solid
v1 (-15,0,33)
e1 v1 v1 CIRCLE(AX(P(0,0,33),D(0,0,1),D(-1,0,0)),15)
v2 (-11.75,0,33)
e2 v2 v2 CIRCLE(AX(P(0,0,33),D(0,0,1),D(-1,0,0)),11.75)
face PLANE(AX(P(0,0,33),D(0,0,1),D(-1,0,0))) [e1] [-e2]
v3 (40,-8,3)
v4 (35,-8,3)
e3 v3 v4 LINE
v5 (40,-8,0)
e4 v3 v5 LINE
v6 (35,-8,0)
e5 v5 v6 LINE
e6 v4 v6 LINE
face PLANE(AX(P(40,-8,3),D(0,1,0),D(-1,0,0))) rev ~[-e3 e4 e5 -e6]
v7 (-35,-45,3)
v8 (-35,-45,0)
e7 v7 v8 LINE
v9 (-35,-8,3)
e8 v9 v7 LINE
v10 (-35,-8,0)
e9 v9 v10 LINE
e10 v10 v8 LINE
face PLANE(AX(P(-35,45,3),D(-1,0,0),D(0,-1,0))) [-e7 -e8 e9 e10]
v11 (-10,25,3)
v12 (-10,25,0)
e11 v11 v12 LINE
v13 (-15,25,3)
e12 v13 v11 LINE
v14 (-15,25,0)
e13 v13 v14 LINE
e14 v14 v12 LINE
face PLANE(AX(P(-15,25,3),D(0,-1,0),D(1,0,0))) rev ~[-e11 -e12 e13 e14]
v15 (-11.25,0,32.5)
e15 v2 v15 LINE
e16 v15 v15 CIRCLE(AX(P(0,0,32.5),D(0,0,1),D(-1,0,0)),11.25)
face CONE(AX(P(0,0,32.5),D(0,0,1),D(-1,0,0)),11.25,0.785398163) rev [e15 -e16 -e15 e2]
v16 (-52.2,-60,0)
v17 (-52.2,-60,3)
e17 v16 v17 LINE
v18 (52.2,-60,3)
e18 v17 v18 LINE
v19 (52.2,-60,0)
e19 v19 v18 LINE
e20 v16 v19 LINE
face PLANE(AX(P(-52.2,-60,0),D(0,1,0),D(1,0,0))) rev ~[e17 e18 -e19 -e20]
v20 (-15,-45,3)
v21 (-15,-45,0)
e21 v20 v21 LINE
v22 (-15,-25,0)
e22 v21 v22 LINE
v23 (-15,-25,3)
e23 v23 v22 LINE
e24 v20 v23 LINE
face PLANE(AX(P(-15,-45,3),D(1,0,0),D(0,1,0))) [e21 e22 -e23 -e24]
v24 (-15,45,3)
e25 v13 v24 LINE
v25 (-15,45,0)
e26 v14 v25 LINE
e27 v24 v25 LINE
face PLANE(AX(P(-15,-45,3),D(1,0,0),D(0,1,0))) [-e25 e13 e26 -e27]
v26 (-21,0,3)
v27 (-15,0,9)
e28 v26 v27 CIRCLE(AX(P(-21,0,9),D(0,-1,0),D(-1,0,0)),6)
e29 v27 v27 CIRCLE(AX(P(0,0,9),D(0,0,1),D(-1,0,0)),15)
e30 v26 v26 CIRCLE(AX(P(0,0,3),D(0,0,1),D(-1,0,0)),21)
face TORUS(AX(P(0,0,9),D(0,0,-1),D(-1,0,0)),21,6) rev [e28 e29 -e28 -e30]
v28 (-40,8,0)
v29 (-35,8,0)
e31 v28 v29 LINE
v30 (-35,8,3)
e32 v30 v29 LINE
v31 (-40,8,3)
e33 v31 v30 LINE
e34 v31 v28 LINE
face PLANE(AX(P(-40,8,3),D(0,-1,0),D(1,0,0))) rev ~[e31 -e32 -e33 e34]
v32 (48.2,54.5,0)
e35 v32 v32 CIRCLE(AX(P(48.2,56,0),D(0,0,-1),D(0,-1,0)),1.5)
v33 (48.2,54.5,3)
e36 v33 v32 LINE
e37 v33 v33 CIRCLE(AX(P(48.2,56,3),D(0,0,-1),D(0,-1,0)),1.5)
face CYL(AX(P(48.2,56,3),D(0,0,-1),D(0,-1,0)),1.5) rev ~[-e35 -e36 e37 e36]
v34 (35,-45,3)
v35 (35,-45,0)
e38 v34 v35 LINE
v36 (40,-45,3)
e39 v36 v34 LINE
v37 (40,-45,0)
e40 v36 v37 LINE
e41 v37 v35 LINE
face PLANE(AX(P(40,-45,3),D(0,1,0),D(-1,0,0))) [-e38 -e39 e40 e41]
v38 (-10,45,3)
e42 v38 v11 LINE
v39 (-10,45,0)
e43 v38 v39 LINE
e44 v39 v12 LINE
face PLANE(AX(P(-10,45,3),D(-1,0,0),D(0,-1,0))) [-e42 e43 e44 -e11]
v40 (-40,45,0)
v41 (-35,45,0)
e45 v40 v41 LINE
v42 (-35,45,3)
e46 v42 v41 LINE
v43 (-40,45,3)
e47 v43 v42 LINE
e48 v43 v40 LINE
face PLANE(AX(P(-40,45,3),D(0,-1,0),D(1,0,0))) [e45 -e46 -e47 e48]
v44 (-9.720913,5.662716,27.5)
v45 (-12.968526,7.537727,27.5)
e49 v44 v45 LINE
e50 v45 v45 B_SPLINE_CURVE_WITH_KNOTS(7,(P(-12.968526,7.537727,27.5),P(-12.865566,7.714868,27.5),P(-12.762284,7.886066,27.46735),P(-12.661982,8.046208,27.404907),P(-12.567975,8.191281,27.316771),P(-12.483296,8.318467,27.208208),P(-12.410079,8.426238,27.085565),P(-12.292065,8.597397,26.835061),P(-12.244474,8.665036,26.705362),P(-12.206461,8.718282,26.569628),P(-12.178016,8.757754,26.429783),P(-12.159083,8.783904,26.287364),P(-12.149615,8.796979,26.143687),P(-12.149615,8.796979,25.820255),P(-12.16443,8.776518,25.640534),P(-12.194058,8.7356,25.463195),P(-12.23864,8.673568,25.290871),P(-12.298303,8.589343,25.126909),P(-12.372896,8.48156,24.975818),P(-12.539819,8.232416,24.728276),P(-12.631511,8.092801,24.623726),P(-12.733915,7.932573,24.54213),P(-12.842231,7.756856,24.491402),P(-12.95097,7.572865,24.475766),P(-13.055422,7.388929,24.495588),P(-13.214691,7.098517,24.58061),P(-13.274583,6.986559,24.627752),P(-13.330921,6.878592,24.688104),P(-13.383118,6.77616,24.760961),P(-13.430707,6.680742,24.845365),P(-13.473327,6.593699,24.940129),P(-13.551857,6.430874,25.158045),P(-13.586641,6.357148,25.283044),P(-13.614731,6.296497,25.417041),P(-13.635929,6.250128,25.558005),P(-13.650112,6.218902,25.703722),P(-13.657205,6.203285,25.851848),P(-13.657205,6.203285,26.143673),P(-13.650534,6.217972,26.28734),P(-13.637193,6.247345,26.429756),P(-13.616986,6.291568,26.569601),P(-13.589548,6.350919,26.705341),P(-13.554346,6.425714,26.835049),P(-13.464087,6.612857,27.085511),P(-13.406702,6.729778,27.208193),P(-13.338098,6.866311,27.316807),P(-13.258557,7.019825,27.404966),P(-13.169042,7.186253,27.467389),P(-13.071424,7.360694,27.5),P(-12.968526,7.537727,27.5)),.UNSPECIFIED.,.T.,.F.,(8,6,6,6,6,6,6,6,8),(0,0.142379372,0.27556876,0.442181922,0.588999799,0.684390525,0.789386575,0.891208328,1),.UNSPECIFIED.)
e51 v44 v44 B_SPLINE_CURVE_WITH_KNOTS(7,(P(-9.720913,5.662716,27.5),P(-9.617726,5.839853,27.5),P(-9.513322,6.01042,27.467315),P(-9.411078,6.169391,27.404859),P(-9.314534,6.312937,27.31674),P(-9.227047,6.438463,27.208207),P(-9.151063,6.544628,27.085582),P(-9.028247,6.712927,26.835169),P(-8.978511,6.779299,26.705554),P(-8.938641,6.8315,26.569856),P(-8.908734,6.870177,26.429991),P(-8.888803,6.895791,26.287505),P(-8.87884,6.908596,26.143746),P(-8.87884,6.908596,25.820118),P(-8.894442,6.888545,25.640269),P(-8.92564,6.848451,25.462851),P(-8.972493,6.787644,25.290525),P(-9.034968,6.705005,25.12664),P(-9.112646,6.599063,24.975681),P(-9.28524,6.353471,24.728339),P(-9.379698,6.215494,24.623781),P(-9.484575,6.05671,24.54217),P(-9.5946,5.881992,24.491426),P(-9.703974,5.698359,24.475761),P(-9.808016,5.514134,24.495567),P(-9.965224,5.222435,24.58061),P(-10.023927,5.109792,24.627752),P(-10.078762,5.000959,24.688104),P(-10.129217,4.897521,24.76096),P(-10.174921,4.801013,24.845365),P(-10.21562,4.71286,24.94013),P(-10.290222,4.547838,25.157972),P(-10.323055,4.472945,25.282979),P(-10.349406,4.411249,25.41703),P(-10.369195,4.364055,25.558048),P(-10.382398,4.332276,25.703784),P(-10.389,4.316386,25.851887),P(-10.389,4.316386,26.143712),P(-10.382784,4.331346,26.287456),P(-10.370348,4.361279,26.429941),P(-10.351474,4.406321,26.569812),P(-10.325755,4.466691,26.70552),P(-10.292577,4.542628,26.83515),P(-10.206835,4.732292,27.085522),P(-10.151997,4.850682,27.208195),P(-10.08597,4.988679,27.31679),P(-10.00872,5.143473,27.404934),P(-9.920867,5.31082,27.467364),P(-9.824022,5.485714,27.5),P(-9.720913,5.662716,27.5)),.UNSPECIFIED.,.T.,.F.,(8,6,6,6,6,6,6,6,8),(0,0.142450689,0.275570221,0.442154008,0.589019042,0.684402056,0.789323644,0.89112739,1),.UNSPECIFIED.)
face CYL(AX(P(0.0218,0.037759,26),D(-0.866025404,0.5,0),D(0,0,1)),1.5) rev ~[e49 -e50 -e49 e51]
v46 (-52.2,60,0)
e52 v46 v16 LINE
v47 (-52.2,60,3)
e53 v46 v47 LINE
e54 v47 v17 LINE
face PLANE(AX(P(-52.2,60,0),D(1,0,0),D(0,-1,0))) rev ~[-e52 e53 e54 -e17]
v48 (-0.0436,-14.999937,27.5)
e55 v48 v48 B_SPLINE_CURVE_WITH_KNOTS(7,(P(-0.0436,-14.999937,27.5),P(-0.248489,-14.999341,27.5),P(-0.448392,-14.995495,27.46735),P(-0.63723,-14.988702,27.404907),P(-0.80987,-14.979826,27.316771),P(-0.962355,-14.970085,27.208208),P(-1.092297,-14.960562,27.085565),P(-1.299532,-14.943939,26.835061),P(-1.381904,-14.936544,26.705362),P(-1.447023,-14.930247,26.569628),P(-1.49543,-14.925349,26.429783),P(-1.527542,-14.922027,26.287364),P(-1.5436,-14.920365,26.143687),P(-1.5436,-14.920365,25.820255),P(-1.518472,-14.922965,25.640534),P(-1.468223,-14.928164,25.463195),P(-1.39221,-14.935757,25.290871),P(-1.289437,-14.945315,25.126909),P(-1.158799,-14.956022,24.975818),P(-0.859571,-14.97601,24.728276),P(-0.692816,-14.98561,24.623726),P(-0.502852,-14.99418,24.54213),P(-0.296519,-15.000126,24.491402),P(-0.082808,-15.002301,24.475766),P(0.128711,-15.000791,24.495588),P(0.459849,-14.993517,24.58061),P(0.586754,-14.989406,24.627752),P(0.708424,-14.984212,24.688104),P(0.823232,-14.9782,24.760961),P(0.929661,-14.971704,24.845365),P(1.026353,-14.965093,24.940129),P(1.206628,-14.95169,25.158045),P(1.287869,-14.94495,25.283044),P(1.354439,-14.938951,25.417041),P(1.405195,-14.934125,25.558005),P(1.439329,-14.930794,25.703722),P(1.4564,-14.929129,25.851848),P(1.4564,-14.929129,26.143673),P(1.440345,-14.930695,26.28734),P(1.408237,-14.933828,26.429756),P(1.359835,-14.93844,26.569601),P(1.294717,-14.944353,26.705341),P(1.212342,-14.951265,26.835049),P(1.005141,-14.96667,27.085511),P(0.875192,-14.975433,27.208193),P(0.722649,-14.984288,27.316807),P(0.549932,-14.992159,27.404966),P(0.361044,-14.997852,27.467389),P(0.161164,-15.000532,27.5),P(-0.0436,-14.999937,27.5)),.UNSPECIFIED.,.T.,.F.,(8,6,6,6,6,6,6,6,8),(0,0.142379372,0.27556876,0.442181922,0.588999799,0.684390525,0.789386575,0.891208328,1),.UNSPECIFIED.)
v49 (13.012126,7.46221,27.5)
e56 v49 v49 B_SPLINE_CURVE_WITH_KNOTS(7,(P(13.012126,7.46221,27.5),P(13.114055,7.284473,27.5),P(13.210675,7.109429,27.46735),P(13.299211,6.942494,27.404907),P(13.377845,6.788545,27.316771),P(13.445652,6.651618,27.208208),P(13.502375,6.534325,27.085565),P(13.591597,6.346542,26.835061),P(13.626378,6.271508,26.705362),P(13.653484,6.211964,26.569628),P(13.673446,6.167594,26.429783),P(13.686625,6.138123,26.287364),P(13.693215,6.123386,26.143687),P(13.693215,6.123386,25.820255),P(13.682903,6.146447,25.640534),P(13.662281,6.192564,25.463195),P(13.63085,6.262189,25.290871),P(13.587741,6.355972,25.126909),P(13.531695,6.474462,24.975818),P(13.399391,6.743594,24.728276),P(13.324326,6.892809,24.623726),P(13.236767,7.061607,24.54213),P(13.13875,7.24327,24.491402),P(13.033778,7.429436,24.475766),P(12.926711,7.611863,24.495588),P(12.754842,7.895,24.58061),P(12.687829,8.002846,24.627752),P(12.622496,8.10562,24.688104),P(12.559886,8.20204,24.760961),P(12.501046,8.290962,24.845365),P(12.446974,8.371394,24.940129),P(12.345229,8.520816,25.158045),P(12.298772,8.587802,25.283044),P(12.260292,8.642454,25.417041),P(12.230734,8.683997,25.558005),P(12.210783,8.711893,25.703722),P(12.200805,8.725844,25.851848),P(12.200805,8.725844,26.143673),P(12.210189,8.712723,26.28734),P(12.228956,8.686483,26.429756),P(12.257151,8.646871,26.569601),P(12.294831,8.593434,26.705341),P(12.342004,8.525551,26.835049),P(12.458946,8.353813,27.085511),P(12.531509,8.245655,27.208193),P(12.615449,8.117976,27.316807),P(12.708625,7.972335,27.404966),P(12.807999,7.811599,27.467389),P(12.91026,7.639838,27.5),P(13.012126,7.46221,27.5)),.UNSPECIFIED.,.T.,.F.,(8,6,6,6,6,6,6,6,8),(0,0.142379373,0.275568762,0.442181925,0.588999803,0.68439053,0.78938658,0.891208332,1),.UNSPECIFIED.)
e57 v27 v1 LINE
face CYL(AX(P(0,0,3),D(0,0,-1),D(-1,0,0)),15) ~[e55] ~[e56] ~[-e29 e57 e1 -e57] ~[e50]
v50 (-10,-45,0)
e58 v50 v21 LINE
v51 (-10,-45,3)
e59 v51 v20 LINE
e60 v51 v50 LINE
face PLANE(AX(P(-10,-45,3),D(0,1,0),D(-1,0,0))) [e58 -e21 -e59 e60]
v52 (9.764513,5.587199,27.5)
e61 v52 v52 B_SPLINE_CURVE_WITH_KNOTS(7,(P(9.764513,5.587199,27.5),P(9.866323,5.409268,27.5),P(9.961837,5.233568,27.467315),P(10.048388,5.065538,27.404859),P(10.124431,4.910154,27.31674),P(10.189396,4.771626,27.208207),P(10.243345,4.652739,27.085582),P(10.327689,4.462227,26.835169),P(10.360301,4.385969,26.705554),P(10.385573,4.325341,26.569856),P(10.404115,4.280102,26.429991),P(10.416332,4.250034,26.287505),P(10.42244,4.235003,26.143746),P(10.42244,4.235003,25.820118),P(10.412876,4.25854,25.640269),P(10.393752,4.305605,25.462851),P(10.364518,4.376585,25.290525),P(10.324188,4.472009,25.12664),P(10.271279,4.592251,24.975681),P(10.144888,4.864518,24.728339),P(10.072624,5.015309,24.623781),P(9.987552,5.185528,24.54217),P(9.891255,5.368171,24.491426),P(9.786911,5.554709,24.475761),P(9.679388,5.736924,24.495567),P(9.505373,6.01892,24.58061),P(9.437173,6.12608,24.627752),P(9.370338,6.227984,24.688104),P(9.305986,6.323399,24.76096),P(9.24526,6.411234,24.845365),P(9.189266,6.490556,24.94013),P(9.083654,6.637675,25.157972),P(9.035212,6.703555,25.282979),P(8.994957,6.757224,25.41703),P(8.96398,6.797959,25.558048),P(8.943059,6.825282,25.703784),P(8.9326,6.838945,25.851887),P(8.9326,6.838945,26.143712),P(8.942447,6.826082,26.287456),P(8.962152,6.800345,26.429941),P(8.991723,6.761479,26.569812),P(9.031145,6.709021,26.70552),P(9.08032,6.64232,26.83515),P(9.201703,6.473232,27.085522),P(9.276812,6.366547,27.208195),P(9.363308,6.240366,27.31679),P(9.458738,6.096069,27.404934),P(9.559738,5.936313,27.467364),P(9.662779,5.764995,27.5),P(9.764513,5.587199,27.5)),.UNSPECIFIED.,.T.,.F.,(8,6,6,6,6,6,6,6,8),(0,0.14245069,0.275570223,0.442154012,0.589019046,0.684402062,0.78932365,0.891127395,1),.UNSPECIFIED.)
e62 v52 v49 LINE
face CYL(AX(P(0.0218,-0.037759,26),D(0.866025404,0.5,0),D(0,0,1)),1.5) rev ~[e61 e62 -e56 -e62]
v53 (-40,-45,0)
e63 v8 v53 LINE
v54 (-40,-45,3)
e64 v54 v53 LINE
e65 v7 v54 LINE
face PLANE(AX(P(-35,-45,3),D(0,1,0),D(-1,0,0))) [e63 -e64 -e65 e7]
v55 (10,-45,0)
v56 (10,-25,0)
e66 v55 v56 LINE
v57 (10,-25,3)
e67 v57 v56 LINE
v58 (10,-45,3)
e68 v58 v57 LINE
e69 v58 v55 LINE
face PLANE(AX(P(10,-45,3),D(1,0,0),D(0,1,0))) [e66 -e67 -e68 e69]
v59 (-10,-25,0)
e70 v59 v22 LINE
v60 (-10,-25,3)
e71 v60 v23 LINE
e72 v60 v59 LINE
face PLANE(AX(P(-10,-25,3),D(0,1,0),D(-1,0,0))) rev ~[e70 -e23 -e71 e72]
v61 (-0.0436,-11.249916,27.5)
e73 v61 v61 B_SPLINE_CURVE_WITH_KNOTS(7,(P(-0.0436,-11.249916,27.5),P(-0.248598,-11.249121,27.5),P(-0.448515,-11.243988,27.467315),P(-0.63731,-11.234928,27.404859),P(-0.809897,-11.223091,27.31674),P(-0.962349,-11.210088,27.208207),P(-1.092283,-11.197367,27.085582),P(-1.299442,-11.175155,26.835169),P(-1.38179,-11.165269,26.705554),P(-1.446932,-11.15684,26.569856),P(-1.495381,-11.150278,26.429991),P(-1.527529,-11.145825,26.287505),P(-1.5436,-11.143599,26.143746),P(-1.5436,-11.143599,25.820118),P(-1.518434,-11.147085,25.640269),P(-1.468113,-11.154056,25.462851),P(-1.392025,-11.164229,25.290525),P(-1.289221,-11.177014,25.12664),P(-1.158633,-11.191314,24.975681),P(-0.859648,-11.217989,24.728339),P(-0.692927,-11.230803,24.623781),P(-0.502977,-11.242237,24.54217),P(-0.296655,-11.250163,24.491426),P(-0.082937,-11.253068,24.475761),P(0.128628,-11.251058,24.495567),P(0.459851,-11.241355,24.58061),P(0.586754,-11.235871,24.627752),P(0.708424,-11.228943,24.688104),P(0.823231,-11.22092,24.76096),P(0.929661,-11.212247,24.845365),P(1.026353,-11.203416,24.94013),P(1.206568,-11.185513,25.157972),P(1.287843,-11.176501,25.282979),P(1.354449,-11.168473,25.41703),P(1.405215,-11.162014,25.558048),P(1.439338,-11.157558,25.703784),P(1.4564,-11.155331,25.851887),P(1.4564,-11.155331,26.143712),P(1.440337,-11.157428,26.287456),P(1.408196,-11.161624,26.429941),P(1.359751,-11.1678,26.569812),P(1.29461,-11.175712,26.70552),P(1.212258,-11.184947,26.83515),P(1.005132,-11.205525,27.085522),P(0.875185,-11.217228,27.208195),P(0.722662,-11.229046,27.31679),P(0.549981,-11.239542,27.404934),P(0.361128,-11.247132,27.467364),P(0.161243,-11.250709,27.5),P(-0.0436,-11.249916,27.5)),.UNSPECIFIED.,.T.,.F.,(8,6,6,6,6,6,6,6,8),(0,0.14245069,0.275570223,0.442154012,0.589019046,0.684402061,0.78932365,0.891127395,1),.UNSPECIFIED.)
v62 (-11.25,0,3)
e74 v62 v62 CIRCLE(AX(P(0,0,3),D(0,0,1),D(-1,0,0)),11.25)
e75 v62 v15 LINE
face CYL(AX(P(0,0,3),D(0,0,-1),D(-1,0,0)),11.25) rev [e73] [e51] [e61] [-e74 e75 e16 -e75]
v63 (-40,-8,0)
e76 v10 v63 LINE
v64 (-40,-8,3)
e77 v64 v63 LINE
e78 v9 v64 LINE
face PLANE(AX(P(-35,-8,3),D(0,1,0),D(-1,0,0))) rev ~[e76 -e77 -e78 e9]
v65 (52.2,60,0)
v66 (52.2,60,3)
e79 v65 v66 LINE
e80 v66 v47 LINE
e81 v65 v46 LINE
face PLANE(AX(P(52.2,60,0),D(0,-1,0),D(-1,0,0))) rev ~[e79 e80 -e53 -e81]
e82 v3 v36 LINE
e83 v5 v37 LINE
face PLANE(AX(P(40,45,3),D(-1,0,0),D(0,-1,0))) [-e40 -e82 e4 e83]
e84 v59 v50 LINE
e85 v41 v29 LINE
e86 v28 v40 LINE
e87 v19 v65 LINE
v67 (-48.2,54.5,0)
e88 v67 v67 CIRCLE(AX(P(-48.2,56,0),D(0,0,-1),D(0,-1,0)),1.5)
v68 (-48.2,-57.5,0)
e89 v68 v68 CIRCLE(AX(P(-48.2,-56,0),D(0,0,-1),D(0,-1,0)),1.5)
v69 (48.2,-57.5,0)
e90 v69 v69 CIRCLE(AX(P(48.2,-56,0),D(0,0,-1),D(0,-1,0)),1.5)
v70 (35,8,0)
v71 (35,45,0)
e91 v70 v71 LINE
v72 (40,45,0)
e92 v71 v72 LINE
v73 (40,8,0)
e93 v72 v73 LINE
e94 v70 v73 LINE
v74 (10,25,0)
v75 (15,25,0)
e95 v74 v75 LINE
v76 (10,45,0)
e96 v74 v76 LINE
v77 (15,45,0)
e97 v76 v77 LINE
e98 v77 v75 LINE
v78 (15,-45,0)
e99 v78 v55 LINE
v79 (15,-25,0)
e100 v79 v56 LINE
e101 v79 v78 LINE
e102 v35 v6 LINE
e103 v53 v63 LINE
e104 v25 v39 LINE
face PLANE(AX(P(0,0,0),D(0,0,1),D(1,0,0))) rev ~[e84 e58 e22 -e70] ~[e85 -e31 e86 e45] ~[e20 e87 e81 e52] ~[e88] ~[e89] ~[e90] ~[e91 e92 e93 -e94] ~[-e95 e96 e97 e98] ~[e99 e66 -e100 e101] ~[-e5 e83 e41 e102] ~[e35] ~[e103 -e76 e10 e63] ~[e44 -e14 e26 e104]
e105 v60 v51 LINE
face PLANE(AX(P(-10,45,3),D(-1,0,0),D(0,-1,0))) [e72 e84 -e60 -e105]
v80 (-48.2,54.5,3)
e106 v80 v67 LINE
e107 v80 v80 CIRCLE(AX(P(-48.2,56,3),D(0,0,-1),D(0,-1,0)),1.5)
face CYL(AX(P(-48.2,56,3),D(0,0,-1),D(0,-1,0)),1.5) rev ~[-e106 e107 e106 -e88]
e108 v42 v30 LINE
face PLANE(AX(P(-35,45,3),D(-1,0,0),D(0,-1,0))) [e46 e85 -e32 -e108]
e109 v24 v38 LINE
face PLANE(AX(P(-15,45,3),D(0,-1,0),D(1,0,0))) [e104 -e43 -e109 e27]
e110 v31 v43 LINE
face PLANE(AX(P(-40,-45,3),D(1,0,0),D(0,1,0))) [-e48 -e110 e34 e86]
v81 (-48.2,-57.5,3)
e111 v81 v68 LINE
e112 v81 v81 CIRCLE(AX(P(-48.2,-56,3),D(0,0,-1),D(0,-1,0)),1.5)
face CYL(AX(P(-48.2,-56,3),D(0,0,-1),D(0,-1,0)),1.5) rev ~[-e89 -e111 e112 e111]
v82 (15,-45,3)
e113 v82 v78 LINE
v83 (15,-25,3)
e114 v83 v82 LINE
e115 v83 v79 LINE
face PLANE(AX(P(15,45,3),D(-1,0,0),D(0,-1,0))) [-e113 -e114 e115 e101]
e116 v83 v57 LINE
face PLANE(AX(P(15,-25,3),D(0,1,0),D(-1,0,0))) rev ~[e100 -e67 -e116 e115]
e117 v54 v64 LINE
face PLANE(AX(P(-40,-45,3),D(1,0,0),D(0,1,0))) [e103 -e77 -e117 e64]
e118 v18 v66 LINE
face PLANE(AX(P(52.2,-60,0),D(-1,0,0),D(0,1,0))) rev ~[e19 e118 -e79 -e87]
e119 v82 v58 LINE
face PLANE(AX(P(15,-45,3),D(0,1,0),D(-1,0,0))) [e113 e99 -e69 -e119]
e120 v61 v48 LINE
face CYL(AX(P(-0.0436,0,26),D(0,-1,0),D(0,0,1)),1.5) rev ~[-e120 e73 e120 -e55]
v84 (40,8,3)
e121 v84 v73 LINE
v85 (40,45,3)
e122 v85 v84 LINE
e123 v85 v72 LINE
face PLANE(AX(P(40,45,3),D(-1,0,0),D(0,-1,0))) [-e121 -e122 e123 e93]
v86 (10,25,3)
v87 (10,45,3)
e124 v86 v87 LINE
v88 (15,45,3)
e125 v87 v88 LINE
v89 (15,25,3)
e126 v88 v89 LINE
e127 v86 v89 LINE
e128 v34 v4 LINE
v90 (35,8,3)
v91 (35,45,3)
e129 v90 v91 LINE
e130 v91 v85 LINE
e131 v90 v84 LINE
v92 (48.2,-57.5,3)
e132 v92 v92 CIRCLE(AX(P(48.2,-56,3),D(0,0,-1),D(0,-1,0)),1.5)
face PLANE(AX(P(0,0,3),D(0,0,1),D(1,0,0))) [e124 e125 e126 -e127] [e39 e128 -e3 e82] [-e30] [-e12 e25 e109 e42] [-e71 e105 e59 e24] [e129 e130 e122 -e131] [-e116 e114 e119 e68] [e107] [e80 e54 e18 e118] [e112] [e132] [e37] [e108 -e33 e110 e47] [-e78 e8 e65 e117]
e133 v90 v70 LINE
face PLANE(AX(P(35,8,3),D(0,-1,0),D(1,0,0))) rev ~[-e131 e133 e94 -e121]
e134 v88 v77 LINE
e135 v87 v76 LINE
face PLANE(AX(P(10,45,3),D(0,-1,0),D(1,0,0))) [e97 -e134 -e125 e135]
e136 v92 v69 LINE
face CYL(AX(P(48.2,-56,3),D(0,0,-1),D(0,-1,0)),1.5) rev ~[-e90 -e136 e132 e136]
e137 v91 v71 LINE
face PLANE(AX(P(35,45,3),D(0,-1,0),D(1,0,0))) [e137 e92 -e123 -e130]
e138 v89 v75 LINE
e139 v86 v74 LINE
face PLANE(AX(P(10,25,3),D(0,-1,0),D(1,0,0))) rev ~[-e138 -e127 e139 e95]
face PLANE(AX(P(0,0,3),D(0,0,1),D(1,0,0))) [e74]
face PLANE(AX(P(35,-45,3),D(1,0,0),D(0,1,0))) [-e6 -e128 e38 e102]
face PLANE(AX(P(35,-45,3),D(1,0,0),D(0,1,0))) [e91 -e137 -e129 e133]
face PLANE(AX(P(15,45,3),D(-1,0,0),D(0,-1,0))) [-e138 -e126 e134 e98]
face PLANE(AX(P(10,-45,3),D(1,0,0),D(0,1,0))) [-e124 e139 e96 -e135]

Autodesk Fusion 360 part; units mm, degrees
sketch "Sketch1" plane through (0, 0, 0) normal (0, 0, 1) x (1, 0, 0)
  line L0 (-52.2, -60) -> (52.2, -60)
  line L1 (52.2, -60) -> (52.2, 60)
  line L2 (52.2, 60) -> (-52.2, 60)
  line L3 (-52.2, 60) -> (-52.2, -60)
  dimension "d1" = 104.4
  dimension "d2" = 120
  dimension "d3" = 60
  dimension "d4" = 52.2
extrude "Extrude1" add sketch "Sketch1" along normal blind 3
sketch "Sketch2" plane through (0, 0, 3) normal (0, 0, 1) x (-1, 0, 0)
  line L0 (52.2, -60) -> (52.2, 60)
  line L1 (52.2, 60) -> (-52.2, 60)
  line L2 (-52.2, 60) -> (-52.2, -60)
  line L3 (-52.2, -60) -> (52.2, -60)
  circle A0 centre (-48.2, -56) radius 1.5
  circle A1 centre (48.2, -56) radius 1.5
  circle A2 centre (48.2, 56) radius 1.5
  circle A3 centre (-48.2, 56) radius 1.5
  dimension "d7" = 3
  dimension "d8" = 3
  dimension "d9" = 3
  dimension "d10" = 3
  dimension "d11" = 4
  dimension "d12" = 4
  dimension "d13" = 4
  dimension "d14" = 4
  dimension "d15" = 4
  dimension "d16" = 4
  dimension "d17" = 4
  dimension "d18" = 4
hole "Hole1" at (-48.2, 56, 3) at (48.2, 56, 3) at (48.2, -56, 3) at (-48.2, -56, 3) direction (0, 0, -1) diameter 3 depth 3 tip angle 118
sketch "Sketch4" plane through (0, 0, 3) normal (0, 0, 1) x (-1, 0, 0)
  circle A0 centre (-48.2, 56) radius 1.5
  circle A1 centre (48.2, -56) radius 1.5
  circle A2 centre (-48.2, -56) radius 1.5
  circle A3 centre (48.2, 56) radius 1.5
  line L0 (52.2, -60) -> (52.2, 60)
  line L1 (52.2, 60) -> (-52.2, 60)
  line L2 (-52.2, 60) -> (-52.2, -60)
  line L3 (-52.2, -60) -> (52.2, -60)
  line L4 (40, -45) -> (35, -45)
  line L5 (35, -45) -> (35, 45)
  line L6 (35, 45) -> (40, 45)
  line L7 (40, 45) -> (40, -45)
  line L8 (10, -45) -> (10, 45)
  line L9 (10, 45) -> (15, 45)
  line L10 (15, 45) -> (15, -45)
  line L11 (15, -45) -> (10, -45)
  line L12 (-15, -45) -> (-15, 45)
  line L13 (-15, 45) -> (-10, 45)
  line L14 (-10, 45) -> (-10, -45)
  line L15 (-10, -45) -> (-15, -45)
  line L16 (-40, -45) -> (-40, 45)
  line L17 (-40, 45) -> (-35, 45)
  line L18 (-35, 45) -> (-35, -45)
  line L19 (-35, -45) -> (-40, -45)
  dimension "d39" = -75
  dimension "d40" = 0
  dimension "d41" = 5
  dimension "d42" = 90
  dimension "d43" = 40
  dimension "d44" = 45
extrude "Extrude2" cut sketch "Sketch4" against normal blind 3 contours L4 L5 L6 L7 | L8 L9 L10 L11 | L12 L13 L14 L15 | L16 L17 L18 L19
sketch "Sketch6" plane through (0, 0, 3) normal (0, 0, 1) x (-1, 0, 0)
  line L0 (10, 45) -> (15, 45)
  line L1 (15, 45) -> (15, -45)
  line L2 (15, -45) -> (10, -45)
  line L3 (10, -45) -> (10, 45)
  line L4 (-15, 45) -> (-10, 45)
  line L5 (-10, 45) -> (-10, -45)
  line L6 (-10, -45) -> (-15, -45)
  line L7 (-15, -45) -> (-15, 45)
  line L8 (35, -45) -> (35, 45)
  line L9 (35, 45) -> (40, 45)
  line L10 (40, 45) -> (40, -45)
  line L11 (40, -45) -> (35, -45)
  line L12 (-40, 45) -> (-35, 45)
  line L13 (-35, 45) -> (-35, -45)
  line L14 (-35, -45) -> (-40, -45)
  line L15 (-40, -45) -> (-40, 45)
  circle A0 centre (-48.2, 56) radius 1.5
  circle A1 centre (48.2, -56) radius 1.5
  circle A2 centre (-48.2, -56) radius 1.5
  circle A3 centre (48.2, 56) radius 1.5
  line L16 (52.2, -60) -> (52.2, 60)
  line L17 (52.2, 60) -> (-52.2, 60)
  line L18 (-52.2, 60) -> (-52.2, -60)
  line L19 (-52.2, -60) -> (52.2, -60)
  line L20 (-15, 25) -> (15, 25)
  line L21 (15, 25) -> (15, -25)
  line L22 (15, -25) -> (-15, -25)
  line L23 (-15, -25) -> (-15, 25)
  line L24 (-15, 25) -> (15, -25) construction
  line L25 (15, 25) -> (-15, -25) construction
  line L26 (40, -8) -> (35, -8)
  line L27 (35, -8) -> (35, 8)
  line L28 (35, 8) -> (40, 8)
  line L29 (40, 8) -> (40, -8)
  line L30 (-35, -8) -> (-40, -8)
  line L31 (-40, -8) -> (-40, 8)
  line L32 (-40, 8) -> (-35, 8)
  line L33 (-35, 8) -> (-35, -8)
  dimension "d49" = 50
  dimension "d56" = 8
  dimension "d57" = 16
  dimension "d58" = 8
  dimension "d59" = 16
extrude "Extrude3" add sketch "Sketch6" against normal blind 3 contours L1 L3 L20 L21 L22 | L5 L7 L20 L22 L23 | L8 L10 L26 L27 L28 L29 | L13 L15 L30 L31 L32 L33
sketch "Sketch5" plane through (0, 0, 3) normal (0, 0, 1) x (-1, 0, 0)
  line L0 (10, 45) -> (15, 45)
  line L1 (15, 45) -> (15, 25)
  line L2 (15, -45) -> (10, -45)
  line L3 (10, 25) -> (10, 45)
  line L4 (-15, 45) -> (-10, 45)
  line L5 (-10, -25) -> (-10, -45)
  line L6 (-10, -45) -> (-15, -45)
  line L7 (-15, -45) -> (-15, -25)
  line L8 (35, 8) -> (35, 45)
  line L9 (35, 45) -> (40, 45)
  line L10 (40, 45) -> (40, 8)
  line L11 (40, -45) -> (35, -45)
  line L12 (-40, 45) -> (-35, 45)
  line L13 (-35, 45) -> (-35, 8)
  line L14 (-35, -45) -> (-40, -45)
  line L15 (-40, 8) -> (-40, 45)
  circle A0 centre (-48.2, 56) radius 1.5
  circle A1 centre (48.2, -56) radius 1.5
  circle A2 centre (-48.2, -56) radius 1.5
  circle A3 centre (48.2, 56) radius 1.5
  line L16 (52.2, -60) -> (52.2, 60)
  line L17 (52.2, 60) -> (-52.2, 60)
  line L18 (-52.2, 60) -> (-52.2, -60)
  line L19 (-52.2, -60) -> (52.2, -60)
  circle A4 centre (0, 0) radius 11.25
  circle A5 centre (0, 0) radius 15
  line L20 (15, 25) -> (10, 25)
  line L21 (-15, -25) -> (-10, -25)
  line L22 (10, -25) -> (15, -25)
  line L23 (15, -25) -> (15, -45)
  line L24 (10, -45) -> (10, -25)
  line L25 (-10, 25) -> (-15, 25)
  line L26 (-15, 25) -> (-15, 45)
  line L27 (-10, 45) -> (-10, 25)
  line L28 (-35, 8) -> (-40, 8)
  line L29 (40, 8) -> (35, 8)
  line L30 (35, -8) -> (40, -8)
  line L31 (40, -8) -> (40, -45)
  line L32 (35, -45) -> (35, -8)
  line L33 (-40, -8) -> (-35, -8)
  line L34 (-35, -8) -> (-35, -45)
  line L35 (-40, -45) -> (-40, -8)
  dimension "d47" = 22.5
  dimension "d48" = 30
extrude "Extrude4" add sketch "Sketch5" along normal blind 30 contours A5
fillet "Fillet1" radius 6 1 edges at (13.9849, -5.4242, 3)
chamfer "Chamfer1" distance 0.5 angle 45 1 edges at (10.4887, -4.0682, 33)
sketch "Sketch7" plane through (0, 0, 0) normal (0, 1, 0) x (1, 0, 0)
  circle A0 centre (-0.0436, -26) radius 1.5
  dimension "d61" = 26
  dimension "d62" = 3
hole "Hole3" at (-0.0436, 0, 26) direction (0, -1, 0) diameter 3 depth 17 tip angle 118
thread "Thread1"
pattern_circular "C-Pattern1" count 3 over 360 about axis through (0, 0, 1.75) along (0, 0, 1) of "Hole3"
